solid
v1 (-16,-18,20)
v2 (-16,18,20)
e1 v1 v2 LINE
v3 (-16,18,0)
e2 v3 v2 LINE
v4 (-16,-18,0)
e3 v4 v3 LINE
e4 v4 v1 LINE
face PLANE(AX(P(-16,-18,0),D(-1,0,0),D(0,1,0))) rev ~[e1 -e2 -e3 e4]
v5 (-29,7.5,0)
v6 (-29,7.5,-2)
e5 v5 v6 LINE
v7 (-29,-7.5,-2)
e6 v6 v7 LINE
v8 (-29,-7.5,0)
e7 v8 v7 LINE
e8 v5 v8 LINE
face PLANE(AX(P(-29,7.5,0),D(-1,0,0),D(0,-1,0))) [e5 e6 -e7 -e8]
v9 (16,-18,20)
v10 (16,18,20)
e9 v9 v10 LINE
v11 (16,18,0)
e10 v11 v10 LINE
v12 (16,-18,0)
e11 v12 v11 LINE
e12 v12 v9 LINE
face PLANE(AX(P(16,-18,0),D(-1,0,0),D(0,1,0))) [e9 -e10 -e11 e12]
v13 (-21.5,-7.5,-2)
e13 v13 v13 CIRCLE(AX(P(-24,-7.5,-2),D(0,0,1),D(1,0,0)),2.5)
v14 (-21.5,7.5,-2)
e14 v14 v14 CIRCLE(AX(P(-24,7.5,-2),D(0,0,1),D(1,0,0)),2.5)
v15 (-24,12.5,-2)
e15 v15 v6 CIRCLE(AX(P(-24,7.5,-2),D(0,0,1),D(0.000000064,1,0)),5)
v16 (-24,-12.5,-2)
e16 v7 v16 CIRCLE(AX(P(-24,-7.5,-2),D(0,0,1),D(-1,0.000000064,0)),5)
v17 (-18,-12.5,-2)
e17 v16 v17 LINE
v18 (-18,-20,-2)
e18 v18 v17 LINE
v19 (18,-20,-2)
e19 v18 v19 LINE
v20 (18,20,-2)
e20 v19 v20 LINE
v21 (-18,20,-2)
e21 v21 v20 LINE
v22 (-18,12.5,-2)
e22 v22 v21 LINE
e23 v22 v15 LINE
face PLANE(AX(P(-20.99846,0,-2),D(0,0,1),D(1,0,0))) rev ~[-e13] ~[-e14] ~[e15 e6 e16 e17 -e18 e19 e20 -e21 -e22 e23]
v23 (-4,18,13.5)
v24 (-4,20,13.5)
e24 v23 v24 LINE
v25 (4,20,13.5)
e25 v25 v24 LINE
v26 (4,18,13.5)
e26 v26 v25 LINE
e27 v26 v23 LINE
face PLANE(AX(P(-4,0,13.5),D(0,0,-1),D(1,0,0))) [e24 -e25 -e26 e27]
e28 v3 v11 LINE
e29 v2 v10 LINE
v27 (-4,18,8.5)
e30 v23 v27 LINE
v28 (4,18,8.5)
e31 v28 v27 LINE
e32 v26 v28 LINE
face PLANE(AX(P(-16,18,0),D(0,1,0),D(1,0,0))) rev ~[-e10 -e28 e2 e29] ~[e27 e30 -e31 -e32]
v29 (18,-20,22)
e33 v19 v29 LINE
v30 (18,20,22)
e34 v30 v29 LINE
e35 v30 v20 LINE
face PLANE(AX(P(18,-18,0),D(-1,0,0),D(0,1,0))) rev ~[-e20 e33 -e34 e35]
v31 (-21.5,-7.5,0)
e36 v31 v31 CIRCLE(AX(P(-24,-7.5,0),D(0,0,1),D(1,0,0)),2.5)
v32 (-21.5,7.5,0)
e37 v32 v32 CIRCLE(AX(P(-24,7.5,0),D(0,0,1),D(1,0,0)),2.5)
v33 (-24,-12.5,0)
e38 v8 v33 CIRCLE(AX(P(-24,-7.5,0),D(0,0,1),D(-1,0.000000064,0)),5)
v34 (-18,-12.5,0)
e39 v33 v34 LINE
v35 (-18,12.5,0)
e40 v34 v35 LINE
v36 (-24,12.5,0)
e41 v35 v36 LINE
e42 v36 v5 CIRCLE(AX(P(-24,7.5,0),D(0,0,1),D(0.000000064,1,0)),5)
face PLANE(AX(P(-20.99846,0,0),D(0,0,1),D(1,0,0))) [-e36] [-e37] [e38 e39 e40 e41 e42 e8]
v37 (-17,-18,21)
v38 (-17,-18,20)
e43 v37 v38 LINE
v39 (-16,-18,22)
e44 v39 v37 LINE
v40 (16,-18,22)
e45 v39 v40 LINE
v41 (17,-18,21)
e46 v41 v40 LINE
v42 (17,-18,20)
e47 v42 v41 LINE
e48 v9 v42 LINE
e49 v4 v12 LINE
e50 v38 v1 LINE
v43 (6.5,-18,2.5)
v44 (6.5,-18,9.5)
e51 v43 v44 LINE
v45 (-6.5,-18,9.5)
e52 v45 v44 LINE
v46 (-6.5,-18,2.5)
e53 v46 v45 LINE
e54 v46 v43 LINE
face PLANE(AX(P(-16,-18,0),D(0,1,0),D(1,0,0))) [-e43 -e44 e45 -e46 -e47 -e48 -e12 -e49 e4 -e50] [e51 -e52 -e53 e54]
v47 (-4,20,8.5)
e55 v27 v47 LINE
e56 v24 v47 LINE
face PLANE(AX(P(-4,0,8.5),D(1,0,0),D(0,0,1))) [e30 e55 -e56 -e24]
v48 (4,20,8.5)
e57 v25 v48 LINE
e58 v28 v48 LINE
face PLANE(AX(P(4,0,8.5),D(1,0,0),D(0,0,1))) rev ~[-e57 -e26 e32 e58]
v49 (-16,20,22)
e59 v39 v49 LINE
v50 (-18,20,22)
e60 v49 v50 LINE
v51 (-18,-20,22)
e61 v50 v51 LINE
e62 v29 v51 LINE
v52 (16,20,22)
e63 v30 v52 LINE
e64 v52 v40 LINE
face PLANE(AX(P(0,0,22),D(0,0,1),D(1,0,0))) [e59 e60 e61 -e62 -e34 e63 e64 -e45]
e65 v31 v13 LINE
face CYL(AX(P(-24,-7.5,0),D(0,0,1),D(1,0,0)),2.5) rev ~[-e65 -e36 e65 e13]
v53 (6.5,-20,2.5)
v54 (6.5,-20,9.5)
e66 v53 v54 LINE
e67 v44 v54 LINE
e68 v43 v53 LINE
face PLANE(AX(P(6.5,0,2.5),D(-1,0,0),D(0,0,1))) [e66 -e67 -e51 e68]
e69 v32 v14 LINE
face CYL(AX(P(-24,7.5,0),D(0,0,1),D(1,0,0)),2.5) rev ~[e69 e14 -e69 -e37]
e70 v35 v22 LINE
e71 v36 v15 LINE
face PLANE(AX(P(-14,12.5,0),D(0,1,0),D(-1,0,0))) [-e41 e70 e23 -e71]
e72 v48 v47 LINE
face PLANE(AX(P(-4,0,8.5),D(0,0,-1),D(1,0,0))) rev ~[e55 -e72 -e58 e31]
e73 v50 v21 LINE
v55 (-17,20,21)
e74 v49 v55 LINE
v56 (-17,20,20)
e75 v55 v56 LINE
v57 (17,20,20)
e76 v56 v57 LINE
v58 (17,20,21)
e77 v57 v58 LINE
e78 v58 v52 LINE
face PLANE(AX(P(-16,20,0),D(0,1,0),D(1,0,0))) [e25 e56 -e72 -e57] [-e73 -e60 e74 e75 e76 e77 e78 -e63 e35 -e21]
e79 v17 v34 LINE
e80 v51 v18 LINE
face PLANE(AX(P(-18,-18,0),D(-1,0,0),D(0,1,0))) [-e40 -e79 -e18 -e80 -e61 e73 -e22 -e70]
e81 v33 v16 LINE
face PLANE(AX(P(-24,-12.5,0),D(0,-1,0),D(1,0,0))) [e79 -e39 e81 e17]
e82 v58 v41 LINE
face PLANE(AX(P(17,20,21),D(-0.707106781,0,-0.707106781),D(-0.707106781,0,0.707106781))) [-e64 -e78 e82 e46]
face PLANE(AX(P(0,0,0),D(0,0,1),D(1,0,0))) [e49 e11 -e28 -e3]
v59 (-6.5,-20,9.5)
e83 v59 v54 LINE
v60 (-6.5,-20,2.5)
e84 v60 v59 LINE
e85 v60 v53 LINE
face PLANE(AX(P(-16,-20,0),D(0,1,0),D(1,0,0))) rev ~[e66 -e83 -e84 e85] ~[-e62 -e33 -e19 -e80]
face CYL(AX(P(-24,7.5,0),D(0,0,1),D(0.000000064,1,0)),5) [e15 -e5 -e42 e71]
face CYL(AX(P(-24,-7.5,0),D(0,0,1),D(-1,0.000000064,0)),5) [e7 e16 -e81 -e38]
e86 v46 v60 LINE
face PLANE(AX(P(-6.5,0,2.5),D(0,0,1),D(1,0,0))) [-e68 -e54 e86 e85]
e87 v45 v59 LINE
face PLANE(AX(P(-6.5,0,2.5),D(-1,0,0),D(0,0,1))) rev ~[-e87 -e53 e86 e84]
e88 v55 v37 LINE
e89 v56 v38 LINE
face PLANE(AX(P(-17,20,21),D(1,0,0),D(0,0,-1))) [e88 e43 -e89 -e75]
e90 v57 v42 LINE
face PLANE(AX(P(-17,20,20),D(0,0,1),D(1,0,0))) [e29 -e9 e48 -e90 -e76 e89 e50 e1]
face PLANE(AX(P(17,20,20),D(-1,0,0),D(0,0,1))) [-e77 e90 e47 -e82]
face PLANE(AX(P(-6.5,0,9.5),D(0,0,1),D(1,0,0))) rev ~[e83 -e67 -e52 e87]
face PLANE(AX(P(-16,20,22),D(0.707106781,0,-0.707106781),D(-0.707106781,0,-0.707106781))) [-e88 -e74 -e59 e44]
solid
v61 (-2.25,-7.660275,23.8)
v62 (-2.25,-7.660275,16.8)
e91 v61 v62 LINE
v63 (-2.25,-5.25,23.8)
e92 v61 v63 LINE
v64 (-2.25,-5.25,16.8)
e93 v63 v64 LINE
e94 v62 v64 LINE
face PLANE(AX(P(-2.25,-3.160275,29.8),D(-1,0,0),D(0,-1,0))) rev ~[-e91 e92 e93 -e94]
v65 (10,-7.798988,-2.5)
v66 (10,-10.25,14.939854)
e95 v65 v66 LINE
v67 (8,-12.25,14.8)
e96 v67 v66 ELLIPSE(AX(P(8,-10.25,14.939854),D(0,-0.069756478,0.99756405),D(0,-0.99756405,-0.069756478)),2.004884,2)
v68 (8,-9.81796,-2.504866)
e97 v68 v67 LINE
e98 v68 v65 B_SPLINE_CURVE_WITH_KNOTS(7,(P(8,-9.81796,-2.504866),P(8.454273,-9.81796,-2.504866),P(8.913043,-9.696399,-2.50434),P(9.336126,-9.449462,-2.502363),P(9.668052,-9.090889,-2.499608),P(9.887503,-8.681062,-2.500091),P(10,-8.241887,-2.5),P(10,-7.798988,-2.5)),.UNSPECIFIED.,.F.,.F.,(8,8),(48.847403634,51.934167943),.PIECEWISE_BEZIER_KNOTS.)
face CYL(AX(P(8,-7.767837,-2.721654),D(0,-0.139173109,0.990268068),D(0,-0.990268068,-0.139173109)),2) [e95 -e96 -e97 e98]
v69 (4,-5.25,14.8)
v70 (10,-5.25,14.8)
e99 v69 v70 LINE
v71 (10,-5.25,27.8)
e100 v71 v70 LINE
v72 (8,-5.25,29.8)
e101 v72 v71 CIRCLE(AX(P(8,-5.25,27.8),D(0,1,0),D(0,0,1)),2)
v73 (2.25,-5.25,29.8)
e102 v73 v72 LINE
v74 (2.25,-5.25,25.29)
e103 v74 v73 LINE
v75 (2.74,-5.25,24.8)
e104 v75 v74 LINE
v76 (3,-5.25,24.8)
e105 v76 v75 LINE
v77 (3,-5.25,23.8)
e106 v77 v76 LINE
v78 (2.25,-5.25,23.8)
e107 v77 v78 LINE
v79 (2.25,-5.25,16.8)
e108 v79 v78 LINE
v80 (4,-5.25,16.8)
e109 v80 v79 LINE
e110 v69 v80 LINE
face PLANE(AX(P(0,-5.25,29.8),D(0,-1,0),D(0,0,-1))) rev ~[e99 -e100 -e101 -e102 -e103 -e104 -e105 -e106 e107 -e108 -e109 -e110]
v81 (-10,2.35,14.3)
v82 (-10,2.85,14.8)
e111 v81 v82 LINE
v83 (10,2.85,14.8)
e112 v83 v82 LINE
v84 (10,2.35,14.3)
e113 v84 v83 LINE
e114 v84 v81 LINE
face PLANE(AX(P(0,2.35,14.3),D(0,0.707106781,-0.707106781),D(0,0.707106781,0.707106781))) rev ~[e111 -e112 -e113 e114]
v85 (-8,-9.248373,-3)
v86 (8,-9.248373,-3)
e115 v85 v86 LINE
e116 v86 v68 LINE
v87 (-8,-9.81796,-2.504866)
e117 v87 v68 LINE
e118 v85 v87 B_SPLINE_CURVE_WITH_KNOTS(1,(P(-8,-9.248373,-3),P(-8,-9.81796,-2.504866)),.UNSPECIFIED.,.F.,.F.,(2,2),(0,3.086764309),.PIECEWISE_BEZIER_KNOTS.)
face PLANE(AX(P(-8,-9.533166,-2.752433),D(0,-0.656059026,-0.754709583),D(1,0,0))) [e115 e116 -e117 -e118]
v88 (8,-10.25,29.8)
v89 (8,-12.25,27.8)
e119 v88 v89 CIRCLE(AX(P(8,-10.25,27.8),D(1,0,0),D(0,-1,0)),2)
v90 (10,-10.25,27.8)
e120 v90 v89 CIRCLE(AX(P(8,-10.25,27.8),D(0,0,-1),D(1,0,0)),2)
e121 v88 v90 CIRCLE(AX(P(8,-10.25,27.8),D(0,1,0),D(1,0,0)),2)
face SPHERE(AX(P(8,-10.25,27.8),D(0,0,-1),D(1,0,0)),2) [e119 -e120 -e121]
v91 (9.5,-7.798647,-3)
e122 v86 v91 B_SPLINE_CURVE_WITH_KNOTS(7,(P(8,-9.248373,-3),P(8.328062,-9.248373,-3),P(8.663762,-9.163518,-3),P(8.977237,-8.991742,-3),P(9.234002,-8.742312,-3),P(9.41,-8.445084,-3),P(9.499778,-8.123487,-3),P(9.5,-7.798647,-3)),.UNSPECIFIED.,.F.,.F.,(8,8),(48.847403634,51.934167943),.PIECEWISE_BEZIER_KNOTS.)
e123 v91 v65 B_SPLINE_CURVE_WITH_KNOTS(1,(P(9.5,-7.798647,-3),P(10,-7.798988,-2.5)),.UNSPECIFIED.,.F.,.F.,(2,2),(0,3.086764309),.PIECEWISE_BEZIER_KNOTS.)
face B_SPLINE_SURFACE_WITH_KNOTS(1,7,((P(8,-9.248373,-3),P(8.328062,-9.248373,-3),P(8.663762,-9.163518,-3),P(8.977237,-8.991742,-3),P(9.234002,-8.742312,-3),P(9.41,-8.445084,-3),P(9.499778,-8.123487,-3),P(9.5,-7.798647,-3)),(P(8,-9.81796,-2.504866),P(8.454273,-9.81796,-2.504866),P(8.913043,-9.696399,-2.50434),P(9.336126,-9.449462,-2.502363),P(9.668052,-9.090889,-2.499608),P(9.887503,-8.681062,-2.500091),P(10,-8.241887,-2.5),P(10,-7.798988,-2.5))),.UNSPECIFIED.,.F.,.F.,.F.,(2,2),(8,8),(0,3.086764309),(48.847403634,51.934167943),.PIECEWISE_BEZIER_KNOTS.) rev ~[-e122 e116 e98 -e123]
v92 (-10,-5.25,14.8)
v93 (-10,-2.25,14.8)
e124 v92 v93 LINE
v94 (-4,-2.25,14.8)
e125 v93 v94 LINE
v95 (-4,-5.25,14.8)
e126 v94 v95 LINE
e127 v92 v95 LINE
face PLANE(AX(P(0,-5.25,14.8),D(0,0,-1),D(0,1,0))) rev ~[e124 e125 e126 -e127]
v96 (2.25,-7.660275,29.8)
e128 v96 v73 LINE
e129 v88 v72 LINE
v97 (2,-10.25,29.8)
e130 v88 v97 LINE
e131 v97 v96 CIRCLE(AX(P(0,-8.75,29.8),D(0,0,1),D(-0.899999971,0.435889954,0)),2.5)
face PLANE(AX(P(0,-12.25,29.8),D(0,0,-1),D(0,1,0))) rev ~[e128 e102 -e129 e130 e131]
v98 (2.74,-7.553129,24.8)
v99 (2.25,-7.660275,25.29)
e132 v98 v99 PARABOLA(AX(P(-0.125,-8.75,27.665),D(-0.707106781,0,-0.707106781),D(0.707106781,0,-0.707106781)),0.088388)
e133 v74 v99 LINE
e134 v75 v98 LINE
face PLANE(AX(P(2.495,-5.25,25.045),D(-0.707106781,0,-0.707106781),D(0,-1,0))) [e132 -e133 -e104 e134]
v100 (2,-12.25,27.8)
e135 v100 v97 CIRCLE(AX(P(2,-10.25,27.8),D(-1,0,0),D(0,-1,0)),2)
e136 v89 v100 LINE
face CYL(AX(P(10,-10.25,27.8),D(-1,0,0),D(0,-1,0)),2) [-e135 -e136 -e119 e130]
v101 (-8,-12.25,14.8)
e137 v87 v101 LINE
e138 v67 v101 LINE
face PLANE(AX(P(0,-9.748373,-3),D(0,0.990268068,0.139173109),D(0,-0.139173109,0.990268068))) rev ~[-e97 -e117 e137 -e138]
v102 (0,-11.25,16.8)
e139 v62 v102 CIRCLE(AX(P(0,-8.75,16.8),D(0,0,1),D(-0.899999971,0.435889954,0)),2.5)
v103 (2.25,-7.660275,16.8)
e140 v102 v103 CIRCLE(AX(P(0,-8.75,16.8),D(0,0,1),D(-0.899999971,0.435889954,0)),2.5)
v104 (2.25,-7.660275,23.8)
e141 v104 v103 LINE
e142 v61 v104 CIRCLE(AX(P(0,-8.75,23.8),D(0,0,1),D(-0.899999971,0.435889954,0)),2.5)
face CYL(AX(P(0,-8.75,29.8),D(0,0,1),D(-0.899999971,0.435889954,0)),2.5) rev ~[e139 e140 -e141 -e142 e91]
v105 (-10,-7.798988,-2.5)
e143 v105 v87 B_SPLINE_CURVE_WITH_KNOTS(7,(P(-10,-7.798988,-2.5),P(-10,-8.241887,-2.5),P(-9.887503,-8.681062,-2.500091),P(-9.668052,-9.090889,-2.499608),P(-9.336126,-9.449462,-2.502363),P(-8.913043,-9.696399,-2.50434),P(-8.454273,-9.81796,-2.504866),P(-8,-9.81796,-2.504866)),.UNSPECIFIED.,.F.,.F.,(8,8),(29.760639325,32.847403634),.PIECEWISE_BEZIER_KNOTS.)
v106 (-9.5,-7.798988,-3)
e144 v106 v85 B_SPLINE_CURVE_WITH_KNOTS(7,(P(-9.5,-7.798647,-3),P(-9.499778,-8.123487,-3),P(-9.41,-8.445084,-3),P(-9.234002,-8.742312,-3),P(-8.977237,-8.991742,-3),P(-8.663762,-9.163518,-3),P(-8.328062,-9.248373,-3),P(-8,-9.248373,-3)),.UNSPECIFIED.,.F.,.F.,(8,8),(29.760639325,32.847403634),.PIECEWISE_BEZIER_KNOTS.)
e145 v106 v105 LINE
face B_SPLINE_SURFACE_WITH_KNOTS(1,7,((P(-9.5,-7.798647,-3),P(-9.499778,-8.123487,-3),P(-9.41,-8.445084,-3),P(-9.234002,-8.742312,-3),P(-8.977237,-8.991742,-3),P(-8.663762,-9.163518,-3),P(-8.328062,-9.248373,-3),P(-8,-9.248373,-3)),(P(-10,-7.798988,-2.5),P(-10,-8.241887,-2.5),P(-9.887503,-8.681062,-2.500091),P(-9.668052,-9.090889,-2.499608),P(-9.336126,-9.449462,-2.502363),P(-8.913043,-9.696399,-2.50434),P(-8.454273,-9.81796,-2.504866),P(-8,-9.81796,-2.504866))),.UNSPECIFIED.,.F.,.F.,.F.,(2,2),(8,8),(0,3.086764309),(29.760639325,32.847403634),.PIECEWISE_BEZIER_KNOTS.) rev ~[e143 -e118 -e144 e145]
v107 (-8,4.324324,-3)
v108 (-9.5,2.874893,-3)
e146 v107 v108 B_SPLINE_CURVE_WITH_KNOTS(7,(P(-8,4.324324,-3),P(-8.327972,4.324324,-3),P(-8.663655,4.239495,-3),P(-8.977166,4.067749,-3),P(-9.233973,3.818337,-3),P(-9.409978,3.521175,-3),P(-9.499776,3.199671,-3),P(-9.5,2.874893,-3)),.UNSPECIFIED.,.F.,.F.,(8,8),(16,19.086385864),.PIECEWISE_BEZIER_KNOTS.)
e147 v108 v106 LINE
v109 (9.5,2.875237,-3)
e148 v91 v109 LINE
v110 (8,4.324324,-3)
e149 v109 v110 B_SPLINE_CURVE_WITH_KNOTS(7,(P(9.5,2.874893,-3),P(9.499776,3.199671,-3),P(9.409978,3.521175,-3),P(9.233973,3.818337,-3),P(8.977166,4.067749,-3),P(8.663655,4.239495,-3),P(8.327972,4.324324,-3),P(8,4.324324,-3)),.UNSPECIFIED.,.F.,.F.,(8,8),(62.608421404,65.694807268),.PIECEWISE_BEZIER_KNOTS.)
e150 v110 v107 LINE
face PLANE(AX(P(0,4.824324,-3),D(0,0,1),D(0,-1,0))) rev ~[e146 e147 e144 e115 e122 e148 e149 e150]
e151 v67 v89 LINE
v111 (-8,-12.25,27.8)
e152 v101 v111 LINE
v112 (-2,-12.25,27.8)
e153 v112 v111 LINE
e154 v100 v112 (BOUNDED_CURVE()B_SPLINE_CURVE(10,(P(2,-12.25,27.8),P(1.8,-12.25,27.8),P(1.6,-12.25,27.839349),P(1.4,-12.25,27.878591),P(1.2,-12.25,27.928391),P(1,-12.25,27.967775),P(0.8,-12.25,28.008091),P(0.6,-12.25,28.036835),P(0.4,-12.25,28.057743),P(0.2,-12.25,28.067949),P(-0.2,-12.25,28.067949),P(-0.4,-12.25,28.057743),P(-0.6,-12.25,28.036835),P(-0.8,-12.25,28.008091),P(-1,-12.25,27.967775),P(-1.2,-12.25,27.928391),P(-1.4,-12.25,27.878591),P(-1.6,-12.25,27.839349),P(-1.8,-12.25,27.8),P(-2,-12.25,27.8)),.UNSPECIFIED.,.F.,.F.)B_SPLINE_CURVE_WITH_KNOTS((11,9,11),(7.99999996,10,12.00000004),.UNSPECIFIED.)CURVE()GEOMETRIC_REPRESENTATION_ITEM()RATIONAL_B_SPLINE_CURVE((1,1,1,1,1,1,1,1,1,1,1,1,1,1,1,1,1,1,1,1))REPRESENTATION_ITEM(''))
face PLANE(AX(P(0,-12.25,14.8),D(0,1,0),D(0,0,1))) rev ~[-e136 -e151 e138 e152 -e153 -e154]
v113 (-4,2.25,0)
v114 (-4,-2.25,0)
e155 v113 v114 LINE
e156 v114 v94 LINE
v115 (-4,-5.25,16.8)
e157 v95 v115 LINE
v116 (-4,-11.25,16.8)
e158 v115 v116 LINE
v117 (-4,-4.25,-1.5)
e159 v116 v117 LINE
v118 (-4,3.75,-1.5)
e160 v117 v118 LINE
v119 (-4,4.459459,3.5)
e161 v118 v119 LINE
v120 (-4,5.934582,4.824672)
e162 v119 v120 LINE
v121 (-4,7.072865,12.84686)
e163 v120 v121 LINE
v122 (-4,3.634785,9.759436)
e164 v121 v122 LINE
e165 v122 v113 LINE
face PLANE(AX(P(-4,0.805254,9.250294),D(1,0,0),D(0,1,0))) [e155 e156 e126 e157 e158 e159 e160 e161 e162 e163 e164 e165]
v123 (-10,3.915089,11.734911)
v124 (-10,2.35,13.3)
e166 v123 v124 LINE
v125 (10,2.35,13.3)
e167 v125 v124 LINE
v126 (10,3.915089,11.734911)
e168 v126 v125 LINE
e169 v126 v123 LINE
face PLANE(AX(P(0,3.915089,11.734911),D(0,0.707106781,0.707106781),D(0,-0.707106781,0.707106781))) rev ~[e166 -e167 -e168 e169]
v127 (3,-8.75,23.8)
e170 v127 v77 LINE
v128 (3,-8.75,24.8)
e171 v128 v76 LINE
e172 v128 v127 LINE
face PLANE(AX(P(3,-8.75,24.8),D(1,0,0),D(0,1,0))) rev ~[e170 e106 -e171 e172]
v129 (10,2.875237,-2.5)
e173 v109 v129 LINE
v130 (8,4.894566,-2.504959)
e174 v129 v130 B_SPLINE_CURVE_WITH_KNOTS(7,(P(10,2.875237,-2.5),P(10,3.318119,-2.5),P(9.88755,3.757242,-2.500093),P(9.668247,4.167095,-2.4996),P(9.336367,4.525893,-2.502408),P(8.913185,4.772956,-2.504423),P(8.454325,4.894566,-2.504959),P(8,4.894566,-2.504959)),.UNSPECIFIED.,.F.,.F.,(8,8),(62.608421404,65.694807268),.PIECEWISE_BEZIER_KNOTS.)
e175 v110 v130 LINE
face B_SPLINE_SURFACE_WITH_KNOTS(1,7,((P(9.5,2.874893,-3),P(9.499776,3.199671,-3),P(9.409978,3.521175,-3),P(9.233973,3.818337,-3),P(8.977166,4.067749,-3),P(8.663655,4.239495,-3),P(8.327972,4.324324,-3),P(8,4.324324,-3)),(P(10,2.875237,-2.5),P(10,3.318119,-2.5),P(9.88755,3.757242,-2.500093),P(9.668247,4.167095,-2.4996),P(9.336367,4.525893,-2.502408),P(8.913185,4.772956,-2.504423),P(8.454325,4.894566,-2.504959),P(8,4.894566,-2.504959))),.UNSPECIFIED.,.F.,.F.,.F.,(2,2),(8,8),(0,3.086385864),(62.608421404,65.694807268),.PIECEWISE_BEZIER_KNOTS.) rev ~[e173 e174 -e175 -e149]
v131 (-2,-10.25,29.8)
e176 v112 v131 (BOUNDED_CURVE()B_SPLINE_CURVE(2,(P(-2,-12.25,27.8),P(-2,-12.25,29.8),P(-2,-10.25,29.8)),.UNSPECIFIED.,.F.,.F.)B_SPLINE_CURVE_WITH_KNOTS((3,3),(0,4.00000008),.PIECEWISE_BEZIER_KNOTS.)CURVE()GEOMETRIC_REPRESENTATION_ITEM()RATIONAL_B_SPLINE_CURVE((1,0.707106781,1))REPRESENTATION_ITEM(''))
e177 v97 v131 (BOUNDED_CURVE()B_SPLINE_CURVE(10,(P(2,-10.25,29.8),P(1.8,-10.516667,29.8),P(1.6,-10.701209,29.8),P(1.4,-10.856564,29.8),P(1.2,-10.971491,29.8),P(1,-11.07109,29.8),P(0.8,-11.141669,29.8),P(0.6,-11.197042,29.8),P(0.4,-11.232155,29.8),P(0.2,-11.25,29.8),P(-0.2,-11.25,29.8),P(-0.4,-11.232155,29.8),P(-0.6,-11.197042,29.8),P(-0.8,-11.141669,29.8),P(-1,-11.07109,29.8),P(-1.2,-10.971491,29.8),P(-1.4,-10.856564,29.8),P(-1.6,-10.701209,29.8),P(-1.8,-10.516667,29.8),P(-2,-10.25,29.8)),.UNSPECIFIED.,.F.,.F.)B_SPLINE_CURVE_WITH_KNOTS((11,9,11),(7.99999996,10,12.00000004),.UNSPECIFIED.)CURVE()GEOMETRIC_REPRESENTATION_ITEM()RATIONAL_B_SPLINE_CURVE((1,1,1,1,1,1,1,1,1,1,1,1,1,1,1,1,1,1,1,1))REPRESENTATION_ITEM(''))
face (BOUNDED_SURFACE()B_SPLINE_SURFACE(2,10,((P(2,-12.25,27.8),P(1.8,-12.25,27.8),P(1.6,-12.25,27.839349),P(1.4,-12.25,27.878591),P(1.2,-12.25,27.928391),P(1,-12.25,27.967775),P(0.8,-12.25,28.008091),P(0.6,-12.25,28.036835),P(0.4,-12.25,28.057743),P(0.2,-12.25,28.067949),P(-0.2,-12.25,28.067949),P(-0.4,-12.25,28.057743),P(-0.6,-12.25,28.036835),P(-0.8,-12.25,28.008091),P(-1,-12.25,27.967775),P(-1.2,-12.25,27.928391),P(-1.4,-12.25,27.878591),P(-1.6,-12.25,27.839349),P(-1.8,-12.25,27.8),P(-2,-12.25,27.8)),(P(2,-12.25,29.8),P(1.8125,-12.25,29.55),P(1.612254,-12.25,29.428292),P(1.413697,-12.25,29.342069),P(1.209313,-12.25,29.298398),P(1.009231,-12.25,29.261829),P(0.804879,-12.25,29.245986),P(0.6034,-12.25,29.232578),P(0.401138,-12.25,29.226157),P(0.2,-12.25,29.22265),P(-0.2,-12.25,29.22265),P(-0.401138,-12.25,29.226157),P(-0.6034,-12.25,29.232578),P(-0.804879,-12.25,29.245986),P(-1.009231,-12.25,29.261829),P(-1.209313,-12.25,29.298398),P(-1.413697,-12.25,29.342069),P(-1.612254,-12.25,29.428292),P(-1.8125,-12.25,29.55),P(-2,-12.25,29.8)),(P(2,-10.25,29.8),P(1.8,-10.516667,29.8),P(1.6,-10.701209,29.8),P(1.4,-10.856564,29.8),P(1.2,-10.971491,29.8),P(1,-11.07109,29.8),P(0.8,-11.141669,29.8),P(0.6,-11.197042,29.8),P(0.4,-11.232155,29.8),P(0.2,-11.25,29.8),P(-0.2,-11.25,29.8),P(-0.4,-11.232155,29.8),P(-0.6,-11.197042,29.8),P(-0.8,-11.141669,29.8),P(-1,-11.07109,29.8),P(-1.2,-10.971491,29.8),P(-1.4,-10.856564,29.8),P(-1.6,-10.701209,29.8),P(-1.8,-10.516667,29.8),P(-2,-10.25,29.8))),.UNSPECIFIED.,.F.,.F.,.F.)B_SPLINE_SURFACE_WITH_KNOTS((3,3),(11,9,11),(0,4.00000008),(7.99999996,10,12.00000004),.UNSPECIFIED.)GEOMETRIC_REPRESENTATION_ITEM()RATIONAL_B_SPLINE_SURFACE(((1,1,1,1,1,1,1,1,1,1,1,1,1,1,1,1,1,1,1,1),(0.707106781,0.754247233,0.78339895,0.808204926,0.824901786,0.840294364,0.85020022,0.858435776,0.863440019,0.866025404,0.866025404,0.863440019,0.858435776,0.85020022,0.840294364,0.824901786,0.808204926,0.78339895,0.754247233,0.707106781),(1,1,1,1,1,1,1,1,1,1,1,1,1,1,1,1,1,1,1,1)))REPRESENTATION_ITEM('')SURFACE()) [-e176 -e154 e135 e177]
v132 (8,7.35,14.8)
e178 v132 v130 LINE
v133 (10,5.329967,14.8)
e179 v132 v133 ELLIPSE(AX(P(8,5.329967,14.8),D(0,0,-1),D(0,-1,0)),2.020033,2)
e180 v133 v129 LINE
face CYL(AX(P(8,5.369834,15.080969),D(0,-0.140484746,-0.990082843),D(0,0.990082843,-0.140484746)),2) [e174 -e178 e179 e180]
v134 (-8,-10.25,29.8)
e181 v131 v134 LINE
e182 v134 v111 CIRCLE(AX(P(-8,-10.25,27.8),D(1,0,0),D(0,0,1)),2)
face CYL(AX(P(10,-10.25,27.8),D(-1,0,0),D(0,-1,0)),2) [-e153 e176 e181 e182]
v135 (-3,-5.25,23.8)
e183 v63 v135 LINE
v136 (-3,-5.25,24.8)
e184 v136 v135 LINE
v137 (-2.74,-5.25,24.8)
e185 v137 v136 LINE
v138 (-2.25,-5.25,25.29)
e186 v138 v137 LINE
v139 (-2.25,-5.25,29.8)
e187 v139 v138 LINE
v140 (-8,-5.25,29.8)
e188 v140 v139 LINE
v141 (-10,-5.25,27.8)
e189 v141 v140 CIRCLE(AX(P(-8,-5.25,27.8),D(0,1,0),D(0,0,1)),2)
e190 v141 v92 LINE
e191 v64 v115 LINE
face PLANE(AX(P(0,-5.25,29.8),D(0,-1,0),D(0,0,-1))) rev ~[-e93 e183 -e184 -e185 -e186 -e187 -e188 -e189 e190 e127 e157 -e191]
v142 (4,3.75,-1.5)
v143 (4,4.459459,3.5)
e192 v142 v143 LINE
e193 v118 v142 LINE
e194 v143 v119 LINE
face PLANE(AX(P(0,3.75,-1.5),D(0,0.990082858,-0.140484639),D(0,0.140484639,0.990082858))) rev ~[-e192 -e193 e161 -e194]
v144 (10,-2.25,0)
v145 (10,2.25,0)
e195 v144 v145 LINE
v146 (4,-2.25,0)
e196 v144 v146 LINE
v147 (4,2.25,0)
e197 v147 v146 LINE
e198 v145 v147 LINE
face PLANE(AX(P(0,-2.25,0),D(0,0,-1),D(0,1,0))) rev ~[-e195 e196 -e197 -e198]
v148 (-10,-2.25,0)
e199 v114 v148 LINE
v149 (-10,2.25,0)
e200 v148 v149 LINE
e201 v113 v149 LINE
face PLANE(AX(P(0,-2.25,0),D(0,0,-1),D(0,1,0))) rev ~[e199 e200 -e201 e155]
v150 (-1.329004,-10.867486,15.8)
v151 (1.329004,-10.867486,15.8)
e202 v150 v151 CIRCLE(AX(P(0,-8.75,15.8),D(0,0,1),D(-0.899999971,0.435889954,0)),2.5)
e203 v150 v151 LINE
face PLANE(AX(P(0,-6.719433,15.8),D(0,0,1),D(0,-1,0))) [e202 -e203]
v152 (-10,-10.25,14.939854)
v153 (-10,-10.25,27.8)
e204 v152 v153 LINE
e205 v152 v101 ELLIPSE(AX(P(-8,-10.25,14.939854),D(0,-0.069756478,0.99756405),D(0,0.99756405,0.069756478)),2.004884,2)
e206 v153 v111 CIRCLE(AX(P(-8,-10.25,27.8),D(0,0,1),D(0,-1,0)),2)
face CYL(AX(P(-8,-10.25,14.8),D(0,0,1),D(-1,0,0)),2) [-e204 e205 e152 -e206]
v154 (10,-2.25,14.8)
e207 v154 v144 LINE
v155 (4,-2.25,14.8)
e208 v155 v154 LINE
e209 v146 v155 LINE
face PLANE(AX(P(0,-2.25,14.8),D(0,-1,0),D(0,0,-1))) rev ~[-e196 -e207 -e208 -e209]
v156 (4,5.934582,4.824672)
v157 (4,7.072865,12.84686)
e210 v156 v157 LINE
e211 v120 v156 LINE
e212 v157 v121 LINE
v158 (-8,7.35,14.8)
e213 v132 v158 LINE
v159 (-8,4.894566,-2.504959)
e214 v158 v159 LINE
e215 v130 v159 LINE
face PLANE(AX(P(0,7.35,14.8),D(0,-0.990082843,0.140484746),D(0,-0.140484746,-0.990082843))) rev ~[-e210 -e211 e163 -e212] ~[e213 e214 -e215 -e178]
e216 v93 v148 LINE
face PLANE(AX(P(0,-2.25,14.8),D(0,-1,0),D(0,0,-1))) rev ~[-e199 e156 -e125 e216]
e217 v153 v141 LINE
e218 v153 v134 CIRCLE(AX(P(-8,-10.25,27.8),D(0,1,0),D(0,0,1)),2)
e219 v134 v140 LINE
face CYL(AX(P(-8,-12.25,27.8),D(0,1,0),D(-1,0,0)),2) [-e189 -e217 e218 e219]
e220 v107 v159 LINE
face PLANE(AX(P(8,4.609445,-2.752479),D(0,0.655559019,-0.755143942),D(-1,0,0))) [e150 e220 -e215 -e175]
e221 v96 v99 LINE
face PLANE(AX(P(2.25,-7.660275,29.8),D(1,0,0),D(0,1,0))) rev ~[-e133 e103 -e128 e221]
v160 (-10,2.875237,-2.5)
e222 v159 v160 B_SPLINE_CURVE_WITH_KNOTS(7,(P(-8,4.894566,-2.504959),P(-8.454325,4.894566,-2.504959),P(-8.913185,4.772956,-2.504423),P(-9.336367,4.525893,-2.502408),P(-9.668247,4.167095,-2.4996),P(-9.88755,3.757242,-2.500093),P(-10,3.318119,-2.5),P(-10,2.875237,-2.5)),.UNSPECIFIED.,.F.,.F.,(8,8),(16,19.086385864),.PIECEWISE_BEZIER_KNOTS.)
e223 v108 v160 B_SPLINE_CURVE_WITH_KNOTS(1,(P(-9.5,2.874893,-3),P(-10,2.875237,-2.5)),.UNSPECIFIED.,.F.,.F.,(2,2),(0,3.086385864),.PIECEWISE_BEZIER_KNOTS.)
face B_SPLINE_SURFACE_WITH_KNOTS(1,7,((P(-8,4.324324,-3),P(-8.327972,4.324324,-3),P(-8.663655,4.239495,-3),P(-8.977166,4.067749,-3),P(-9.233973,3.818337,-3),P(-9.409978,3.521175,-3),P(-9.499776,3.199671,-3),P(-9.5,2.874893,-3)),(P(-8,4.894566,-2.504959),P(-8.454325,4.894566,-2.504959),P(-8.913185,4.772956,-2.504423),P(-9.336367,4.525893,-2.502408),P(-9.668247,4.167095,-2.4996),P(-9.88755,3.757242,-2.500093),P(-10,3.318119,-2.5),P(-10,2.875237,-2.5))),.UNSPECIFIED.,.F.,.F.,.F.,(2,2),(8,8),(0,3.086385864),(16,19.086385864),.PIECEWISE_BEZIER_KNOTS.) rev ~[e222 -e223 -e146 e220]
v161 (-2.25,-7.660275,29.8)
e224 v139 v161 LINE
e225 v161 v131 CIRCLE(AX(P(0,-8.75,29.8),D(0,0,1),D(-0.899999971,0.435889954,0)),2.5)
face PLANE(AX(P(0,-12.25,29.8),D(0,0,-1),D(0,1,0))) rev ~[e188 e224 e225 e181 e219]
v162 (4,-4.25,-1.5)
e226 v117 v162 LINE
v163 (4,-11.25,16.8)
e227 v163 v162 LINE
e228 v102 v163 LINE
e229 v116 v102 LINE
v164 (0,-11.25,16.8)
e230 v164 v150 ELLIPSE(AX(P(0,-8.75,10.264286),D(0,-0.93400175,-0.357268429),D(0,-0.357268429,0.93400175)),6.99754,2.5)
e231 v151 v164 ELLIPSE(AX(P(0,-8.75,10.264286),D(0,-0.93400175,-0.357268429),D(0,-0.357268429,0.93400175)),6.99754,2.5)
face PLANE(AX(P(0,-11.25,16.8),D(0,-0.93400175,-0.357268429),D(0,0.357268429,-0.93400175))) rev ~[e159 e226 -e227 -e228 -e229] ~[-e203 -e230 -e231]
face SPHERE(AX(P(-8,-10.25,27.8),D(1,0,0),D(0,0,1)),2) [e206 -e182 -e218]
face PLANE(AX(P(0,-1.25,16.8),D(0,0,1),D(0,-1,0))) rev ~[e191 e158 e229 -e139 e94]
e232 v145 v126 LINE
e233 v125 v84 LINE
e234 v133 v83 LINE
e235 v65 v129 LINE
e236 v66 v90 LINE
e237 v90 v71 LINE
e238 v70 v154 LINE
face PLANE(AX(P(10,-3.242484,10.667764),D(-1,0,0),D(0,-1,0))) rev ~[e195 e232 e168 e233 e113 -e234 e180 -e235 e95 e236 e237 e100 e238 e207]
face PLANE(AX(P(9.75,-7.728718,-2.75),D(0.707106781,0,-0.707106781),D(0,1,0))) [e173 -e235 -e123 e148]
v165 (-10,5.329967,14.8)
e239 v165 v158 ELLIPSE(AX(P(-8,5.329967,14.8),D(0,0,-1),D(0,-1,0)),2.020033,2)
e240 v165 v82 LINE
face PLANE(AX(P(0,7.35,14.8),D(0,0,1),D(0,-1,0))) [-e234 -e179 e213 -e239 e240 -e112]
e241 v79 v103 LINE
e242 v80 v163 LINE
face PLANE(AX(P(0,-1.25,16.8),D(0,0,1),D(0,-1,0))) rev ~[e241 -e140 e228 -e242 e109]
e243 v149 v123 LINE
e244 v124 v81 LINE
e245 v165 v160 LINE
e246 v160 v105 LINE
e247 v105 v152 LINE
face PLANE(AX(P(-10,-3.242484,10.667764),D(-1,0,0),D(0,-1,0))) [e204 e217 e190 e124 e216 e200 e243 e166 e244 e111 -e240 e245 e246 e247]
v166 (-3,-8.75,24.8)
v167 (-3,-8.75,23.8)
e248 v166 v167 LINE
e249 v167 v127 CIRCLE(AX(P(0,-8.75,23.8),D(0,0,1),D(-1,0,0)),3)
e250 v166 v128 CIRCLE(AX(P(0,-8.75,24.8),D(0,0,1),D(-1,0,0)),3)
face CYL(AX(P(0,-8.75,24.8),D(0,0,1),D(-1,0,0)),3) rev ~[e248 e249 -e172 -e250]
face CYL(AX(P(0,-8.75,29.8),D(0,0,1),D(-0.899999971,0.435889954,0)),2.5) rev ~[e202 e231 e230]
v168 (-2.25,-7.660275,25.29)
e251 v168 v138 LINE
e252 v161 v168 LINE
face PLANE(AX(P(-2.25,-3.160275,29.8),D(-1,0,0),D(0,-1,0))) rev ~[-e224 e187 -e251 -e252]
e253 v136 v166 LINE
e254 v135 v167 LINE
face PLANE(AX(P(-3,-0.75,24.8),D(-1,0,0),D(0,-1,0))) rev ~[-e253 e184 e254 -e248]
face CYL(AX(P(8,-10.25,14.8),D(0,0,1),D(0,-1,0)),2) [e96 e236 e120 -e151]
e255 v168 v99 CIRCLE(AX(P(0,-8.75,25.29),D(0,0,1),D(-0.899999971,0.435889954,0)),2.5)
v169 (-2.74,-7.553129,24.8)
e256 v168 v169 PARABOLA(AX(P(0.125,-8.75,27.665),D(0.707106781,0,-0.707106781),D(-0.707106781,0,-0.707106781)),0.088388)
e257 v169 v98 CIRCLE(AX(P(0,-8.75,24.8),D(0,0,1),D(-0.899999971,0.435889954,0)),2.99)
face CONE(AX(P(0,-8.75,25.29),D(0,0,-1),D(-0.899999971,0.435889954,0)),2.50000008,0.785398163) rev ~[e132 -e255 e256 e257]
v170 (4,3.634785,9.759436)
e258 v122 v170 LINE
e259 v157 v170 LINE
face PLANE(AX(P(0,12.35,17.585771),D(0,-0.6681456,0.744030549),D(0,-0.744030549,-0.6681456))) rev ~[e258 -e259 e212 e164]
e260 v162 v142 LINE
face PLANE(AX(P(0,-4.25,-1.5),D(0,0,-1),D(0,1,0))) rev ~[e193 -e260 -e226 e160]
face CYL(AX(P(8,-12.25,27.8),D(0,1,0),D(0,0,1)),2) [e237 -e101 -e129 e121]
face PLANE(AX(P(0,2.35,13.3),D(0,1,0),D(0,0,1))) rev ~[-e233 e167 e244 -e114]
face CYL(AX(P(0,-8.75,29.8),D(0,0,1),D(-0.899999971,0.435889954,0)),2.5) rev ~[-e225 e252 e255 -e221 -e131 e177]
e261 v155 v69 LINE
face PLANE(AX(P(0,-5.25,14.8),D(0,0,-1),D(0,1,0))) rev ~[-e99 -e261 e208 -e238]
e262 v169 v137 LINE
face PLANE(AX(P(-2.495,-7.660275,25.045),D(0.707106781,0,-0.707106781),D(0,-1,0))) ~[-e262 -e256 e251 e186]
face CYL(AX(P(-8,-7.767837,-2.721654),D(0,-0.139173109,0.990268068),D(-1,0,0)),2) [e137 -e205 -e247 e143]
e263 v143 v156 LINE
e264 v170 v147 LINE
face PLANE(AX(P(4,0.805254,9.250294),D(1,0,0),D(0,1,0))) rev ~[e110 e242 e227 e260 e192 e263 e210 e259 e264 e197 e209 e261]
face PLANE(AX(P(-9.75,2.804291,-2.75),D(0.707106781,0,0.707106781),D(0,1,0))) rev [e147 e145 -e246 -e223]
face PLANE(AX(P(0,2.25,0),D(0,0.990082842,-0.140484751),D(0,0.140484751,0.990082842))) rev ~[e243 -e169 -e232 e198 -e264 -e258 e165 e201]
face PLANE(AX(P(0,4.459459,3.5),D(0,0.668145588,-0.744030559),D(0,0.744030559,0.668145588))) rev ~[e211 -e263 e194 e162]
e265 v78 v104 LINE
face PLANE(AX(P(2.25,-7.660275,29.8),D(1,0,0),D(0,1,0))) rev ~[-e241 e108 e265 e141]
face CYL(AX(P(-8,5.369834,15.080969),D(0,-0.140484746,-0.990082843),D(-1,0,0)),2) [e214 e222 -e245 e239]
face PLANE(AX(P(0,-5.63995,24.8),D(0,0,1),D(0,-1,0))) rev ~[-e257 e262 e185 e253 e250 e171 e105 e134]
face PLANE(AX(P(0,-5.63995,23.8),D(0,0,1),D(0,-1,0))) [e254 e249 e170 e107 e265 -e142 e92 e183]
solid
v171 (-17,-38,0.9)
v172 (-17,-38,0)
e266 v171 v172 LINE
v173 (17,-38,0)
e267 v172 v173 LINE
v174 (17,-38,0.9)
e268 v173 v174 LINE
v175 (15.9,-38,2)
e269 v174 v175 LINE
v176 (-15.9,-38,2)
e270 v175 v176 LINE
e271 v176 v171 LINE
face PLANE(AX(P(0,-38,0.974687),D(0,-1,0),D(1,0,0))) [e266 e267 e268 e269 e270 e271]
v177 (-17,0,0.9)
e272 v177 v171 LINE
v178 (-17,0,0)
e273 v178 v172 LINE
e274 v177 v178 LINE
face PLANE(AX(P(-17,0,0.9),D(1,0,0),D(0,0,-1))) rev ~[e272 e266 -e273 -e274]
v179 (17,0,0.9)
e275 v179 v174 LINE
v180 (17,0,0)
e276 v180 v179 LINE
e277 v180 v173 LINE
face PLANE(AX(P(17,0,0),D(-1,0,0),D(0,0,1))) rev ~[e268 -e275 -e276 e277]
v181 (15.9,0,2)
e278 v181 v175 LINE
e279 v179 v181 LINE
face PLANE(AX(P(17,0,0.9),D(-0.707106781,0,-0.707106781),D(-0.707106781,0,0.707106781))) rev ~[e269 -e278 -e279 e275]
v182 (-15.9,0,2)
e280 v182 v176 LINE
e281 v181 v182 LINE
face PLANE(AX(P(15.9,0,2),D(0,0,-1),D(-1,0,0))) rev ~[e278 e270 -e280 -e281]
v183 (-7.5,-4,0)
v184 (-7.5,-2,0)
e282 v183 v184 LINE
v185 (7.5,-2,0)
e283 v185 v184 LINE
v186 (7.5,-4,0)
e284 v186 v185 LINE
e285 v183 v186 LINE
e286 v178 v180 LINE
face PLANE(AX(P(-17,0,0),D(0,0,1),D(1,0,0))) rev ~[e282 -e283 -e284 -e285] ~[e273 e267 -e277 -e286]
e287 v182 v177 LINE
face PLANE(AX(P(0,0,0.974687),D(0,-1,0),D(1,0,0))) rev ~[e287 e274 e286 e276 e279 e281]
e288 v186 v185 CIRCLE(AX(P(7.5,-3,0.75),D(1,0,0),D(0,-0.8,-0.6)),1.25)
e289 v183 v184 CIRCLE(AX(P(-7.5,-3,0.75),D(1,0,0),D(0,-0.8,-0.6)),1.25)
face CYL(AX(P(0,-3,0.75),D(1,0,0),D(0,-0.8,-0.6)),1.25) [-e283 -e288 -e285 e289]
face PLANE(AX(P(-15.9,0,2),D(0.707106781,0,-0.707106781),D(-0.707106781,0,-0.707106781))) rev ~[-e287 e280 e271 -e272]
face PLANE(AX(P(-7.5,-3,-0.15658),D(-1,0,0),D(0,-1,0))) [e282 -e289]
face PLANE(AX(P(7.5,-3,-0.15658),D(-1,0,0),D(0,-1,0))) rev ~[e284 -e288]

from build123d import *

# Parameters (mm, degrees)
PAD_DEPTH       = 10
POCKET_DEPTH    = 14
POCKET001_DEPTH = 1
POCKET002_DEPTH = 4
FILLET_R        = 2
CHAMFER_SIZE    = 0.5
CHAMFER001_SIZE = 0.49
SKETCH005_W     = 32
SKETCH005_H     = 36
PAD001_DEPTH    = 22
THICKNESS_T     = 2
SKETCH006_W     = 13
SKETCH006_H     = 7
POCKET003_DEPTH = 20.001
SKETCH007_W     = 8
SKETCH007_H     = 5
POCKET004_DEPTH = 20.001
POCKET005_DEPTH = 38
SKETCH009_R     = 2.5
PAD002_DEPTH    = 2
PAD003_DEPTH    = 38
PAD004_DEPTH    = 7.5


with BuildPart() as body:
    # Sketch → Pad (new body, symmetric)
    with BuildSketch(Plane.YZ):
        Polygon((-2.25, 14.8), (-2.25, 0), (2.25, 0), (3.915089, 11.734911), (2.35, 13.3), (2.35, 14.3), (2.85, 14.8), (4.35, 14.8), (7.35, 14.8), (4.824324, -3), (-9.748373, -3), (-12.25, 14.8), (-12.25, 29.8), (-5.25, 29.8), (-5.25, 14.8), align=None)
    extrude(amount=PAD_DEPTH, both=True)

    # Sketch001 (on Face13 of Pad) → Pocket (cut)
    with BuildSketch(Plane(origin=(0, 0, 29.8), x_dir=(0, -1, 0), z_dir=(0, 0, 1))):
        with BuildLine():
            Line((3.160275, 2.25), (3.160275, -2.25))
            Line((3.160275, -2.25), (7.660275, -2.25))
            ThreePointArc((7.660275, -2.25), (11.25, 0), (7.660275, 2.25))
            Line((7.660275, 2.25), (3.160275, 2.25))
        make_face()
    extrude(amount=-POCKET_DEPTH, mode=Mode.SUBTRACT)

    # Sketch002 (on Face13 of Pad) → Pocket001 (cut)
    with BuildSketch(Plane(origin=(0, 0, 24.8), x_dir=(0, -1, 0), z_dir=(0, 0, 1))):
        with BuildLine():
            Line((0.75, 3), (0.75, -3))
            Line((0.75, -3), (8.75, -3))
            ThreePointArc((8.75, -3), (11.75, 0), (8.75, 3))
            Line((8.75, 3), (0.75, 3))
        make_face()
    extrude(amount=-POCKET001_DEPTH, mode=Mode.SUBTRACT)

    # Sketch003 → Pocket002 (cut, symmetric)
    with BuildSketch(Plane.YZ):
        Polygon((12.35, 17.585771), (1.25, 7.617879), (-1.25, 7.617879), (-1.25, 16.8), (-11.25, 16.8), (-4.25, -1.5), (3.75, -1.5), (4.459459, 3.5), (12.35, 10.585771), align=None)
    extrude(amount=POCKET002_DEPTH, both=True, mode=Mode.SUBTRACT)

    # Fillet
    fillet_edges = [body.edges().sort_by_distance(p)[0] for p in [
        (10, -10.999187, 5.9),
        (10, -12.25, 22.3),
        (10, -8.75, 29.8),
        (0, -12.25, 29.8),
        (-10, -8.75, 29.8),
        (-10, -12.25, 22.3),
        (-10, -10.999187, 5.9),
        (10, 6.087162, 5.9),
        (-10, 6.087162, 5.9),
    ]]
    fillet(fillet_edges, radius=FILLET_R)

    # Chamfer
    chamfer_edges = [body.edges().sort_by_distance(p)[0] for p in [
        (0, 4.824324, -3),
        (-9.417733, 4.229107, -3),
        (9.417733, 4.229107, -3),
        (-10, -2.462213, -3),
        (10, -2.462213, -3),
        (-9.417667, -9.153334, -3),
        (9.417667, -9.153334, -3),
        (0, -9.748373, -3),
    ]]
    chamfer(chamfer_edges, length=CHAMFER_SIZE)

    # Chamfer001
    chamfer001_edges = [body.edges().sort_by_distance(p)[0] for p in [
        (-2.25, -6.455138, 24.8),
        (0, -11.25, 24.8),
        (2.25, -6.455138, 24.8),
    ]]
    chamfer(chamfer001_edges, length=CHAMFER001_SIZE)


with BuildPart() as boxbody:
    # Sketch005 → Pad001 (new body)
    with BuildSketch(Plane.XY):
        Rectangle(SKETCH005_W, SKETCH005_H)
    extrude(amount=PAD001_DEPTH)

    # Thickness
    thickness_openings = [boxbody.faces().sort_by_distance(p)[0] for p in [
        (0, 0, 22),
    ]]
    offset(amount=THICKNESS_T, openings=thickness_openings, kind=Kind.INTERSECTION)

    # Sketch006 → Pocket003 (cut, through all)
    with BuildSketch(Plane.XZ):
        with Locations((0, 6)):
            Rectangle(SKETCH006_W, SKETCH006_H)
    extrude(amount=POCKET003_DEPTH, mode=Mode.SUBTRACT)

    # Sketch007 → Pocket004 (cut, through all)
    with BuildSketch(Plane.XZ):
        with Locations((0, 11)):
            Rectangle(SKETCH007_W, SKETCH007_H)
    extrude(amount=-POCKET004_DEPTH, mode=Mode.SUBTRACT)

    # Sketch008 (on Face11 of Pocket004) → Pocket005 (cut)
    with BuildSketch(Plane(origin=(0, 20, 0), x_dir=(-1, 0, 0), z_dir=(0, 1, 0))):
        Polygon((-16, 22), (16, 22), (17, 21), (17, 20), (-17, 20), (-17, 21), align=None)
    extrude(amount=-POCKET005_DEPTH, mode=Mode.SUBTRACT)

    # Sketch009 → Pad002 (join)
    with BuildSketch(Plane.XY):
        with BuildLine():
            Line((-29, 7.5), (-29, -7.5))
            ThreePointArc((-29, -7.5), (-27.535534, -11.035534), (-24, -12.5))
            Line((-24, -12.5), (-14, -12.5))
            Line((-14, -12.5), (-14, 12.5))
            Line((-14, 12.5), (-24, 12.5))
            ThreePointArc((-24, 12.5), (-27.535534, 11.035534), (-29, 7.5))
        make_face()
        with Locations((-24, 7.5)):
            Circle(SKETCH009_R, mode=Mode.SUBTRACT)
        with Locations((-24, -7.5)):
            Circle(SKETCH009_R, mode=Mode.SUBTRACT)
    extrude(amount=-PAD002_DEPTH)


with BuildPart() as coverbody:
    # Sketch010 → Pad003 (new body)
    with BuildSketch(Plane.XZ):
        Polygon((-17, 0), (17, 0), (17, 0.9), (15.9, 2), (-15.9, 2), (-17, 0.9), align=None)
    extrude(amount=PAD003_DEPTH)

    # Sketch011 → Pad004 (join, symmetric)
    with BuildSketch(Plane.YZ):
        with BuildLine():
            Line((-4, 0), (-2, 0))
            ThreePointArc((-4, 0), (-3, -0.5), (-2, 0))
        make_face()
    extrude(amount=PAD004_DEPTH, both=True)


solid = Compound([body.part, boxbody.part, coverbody.part])
